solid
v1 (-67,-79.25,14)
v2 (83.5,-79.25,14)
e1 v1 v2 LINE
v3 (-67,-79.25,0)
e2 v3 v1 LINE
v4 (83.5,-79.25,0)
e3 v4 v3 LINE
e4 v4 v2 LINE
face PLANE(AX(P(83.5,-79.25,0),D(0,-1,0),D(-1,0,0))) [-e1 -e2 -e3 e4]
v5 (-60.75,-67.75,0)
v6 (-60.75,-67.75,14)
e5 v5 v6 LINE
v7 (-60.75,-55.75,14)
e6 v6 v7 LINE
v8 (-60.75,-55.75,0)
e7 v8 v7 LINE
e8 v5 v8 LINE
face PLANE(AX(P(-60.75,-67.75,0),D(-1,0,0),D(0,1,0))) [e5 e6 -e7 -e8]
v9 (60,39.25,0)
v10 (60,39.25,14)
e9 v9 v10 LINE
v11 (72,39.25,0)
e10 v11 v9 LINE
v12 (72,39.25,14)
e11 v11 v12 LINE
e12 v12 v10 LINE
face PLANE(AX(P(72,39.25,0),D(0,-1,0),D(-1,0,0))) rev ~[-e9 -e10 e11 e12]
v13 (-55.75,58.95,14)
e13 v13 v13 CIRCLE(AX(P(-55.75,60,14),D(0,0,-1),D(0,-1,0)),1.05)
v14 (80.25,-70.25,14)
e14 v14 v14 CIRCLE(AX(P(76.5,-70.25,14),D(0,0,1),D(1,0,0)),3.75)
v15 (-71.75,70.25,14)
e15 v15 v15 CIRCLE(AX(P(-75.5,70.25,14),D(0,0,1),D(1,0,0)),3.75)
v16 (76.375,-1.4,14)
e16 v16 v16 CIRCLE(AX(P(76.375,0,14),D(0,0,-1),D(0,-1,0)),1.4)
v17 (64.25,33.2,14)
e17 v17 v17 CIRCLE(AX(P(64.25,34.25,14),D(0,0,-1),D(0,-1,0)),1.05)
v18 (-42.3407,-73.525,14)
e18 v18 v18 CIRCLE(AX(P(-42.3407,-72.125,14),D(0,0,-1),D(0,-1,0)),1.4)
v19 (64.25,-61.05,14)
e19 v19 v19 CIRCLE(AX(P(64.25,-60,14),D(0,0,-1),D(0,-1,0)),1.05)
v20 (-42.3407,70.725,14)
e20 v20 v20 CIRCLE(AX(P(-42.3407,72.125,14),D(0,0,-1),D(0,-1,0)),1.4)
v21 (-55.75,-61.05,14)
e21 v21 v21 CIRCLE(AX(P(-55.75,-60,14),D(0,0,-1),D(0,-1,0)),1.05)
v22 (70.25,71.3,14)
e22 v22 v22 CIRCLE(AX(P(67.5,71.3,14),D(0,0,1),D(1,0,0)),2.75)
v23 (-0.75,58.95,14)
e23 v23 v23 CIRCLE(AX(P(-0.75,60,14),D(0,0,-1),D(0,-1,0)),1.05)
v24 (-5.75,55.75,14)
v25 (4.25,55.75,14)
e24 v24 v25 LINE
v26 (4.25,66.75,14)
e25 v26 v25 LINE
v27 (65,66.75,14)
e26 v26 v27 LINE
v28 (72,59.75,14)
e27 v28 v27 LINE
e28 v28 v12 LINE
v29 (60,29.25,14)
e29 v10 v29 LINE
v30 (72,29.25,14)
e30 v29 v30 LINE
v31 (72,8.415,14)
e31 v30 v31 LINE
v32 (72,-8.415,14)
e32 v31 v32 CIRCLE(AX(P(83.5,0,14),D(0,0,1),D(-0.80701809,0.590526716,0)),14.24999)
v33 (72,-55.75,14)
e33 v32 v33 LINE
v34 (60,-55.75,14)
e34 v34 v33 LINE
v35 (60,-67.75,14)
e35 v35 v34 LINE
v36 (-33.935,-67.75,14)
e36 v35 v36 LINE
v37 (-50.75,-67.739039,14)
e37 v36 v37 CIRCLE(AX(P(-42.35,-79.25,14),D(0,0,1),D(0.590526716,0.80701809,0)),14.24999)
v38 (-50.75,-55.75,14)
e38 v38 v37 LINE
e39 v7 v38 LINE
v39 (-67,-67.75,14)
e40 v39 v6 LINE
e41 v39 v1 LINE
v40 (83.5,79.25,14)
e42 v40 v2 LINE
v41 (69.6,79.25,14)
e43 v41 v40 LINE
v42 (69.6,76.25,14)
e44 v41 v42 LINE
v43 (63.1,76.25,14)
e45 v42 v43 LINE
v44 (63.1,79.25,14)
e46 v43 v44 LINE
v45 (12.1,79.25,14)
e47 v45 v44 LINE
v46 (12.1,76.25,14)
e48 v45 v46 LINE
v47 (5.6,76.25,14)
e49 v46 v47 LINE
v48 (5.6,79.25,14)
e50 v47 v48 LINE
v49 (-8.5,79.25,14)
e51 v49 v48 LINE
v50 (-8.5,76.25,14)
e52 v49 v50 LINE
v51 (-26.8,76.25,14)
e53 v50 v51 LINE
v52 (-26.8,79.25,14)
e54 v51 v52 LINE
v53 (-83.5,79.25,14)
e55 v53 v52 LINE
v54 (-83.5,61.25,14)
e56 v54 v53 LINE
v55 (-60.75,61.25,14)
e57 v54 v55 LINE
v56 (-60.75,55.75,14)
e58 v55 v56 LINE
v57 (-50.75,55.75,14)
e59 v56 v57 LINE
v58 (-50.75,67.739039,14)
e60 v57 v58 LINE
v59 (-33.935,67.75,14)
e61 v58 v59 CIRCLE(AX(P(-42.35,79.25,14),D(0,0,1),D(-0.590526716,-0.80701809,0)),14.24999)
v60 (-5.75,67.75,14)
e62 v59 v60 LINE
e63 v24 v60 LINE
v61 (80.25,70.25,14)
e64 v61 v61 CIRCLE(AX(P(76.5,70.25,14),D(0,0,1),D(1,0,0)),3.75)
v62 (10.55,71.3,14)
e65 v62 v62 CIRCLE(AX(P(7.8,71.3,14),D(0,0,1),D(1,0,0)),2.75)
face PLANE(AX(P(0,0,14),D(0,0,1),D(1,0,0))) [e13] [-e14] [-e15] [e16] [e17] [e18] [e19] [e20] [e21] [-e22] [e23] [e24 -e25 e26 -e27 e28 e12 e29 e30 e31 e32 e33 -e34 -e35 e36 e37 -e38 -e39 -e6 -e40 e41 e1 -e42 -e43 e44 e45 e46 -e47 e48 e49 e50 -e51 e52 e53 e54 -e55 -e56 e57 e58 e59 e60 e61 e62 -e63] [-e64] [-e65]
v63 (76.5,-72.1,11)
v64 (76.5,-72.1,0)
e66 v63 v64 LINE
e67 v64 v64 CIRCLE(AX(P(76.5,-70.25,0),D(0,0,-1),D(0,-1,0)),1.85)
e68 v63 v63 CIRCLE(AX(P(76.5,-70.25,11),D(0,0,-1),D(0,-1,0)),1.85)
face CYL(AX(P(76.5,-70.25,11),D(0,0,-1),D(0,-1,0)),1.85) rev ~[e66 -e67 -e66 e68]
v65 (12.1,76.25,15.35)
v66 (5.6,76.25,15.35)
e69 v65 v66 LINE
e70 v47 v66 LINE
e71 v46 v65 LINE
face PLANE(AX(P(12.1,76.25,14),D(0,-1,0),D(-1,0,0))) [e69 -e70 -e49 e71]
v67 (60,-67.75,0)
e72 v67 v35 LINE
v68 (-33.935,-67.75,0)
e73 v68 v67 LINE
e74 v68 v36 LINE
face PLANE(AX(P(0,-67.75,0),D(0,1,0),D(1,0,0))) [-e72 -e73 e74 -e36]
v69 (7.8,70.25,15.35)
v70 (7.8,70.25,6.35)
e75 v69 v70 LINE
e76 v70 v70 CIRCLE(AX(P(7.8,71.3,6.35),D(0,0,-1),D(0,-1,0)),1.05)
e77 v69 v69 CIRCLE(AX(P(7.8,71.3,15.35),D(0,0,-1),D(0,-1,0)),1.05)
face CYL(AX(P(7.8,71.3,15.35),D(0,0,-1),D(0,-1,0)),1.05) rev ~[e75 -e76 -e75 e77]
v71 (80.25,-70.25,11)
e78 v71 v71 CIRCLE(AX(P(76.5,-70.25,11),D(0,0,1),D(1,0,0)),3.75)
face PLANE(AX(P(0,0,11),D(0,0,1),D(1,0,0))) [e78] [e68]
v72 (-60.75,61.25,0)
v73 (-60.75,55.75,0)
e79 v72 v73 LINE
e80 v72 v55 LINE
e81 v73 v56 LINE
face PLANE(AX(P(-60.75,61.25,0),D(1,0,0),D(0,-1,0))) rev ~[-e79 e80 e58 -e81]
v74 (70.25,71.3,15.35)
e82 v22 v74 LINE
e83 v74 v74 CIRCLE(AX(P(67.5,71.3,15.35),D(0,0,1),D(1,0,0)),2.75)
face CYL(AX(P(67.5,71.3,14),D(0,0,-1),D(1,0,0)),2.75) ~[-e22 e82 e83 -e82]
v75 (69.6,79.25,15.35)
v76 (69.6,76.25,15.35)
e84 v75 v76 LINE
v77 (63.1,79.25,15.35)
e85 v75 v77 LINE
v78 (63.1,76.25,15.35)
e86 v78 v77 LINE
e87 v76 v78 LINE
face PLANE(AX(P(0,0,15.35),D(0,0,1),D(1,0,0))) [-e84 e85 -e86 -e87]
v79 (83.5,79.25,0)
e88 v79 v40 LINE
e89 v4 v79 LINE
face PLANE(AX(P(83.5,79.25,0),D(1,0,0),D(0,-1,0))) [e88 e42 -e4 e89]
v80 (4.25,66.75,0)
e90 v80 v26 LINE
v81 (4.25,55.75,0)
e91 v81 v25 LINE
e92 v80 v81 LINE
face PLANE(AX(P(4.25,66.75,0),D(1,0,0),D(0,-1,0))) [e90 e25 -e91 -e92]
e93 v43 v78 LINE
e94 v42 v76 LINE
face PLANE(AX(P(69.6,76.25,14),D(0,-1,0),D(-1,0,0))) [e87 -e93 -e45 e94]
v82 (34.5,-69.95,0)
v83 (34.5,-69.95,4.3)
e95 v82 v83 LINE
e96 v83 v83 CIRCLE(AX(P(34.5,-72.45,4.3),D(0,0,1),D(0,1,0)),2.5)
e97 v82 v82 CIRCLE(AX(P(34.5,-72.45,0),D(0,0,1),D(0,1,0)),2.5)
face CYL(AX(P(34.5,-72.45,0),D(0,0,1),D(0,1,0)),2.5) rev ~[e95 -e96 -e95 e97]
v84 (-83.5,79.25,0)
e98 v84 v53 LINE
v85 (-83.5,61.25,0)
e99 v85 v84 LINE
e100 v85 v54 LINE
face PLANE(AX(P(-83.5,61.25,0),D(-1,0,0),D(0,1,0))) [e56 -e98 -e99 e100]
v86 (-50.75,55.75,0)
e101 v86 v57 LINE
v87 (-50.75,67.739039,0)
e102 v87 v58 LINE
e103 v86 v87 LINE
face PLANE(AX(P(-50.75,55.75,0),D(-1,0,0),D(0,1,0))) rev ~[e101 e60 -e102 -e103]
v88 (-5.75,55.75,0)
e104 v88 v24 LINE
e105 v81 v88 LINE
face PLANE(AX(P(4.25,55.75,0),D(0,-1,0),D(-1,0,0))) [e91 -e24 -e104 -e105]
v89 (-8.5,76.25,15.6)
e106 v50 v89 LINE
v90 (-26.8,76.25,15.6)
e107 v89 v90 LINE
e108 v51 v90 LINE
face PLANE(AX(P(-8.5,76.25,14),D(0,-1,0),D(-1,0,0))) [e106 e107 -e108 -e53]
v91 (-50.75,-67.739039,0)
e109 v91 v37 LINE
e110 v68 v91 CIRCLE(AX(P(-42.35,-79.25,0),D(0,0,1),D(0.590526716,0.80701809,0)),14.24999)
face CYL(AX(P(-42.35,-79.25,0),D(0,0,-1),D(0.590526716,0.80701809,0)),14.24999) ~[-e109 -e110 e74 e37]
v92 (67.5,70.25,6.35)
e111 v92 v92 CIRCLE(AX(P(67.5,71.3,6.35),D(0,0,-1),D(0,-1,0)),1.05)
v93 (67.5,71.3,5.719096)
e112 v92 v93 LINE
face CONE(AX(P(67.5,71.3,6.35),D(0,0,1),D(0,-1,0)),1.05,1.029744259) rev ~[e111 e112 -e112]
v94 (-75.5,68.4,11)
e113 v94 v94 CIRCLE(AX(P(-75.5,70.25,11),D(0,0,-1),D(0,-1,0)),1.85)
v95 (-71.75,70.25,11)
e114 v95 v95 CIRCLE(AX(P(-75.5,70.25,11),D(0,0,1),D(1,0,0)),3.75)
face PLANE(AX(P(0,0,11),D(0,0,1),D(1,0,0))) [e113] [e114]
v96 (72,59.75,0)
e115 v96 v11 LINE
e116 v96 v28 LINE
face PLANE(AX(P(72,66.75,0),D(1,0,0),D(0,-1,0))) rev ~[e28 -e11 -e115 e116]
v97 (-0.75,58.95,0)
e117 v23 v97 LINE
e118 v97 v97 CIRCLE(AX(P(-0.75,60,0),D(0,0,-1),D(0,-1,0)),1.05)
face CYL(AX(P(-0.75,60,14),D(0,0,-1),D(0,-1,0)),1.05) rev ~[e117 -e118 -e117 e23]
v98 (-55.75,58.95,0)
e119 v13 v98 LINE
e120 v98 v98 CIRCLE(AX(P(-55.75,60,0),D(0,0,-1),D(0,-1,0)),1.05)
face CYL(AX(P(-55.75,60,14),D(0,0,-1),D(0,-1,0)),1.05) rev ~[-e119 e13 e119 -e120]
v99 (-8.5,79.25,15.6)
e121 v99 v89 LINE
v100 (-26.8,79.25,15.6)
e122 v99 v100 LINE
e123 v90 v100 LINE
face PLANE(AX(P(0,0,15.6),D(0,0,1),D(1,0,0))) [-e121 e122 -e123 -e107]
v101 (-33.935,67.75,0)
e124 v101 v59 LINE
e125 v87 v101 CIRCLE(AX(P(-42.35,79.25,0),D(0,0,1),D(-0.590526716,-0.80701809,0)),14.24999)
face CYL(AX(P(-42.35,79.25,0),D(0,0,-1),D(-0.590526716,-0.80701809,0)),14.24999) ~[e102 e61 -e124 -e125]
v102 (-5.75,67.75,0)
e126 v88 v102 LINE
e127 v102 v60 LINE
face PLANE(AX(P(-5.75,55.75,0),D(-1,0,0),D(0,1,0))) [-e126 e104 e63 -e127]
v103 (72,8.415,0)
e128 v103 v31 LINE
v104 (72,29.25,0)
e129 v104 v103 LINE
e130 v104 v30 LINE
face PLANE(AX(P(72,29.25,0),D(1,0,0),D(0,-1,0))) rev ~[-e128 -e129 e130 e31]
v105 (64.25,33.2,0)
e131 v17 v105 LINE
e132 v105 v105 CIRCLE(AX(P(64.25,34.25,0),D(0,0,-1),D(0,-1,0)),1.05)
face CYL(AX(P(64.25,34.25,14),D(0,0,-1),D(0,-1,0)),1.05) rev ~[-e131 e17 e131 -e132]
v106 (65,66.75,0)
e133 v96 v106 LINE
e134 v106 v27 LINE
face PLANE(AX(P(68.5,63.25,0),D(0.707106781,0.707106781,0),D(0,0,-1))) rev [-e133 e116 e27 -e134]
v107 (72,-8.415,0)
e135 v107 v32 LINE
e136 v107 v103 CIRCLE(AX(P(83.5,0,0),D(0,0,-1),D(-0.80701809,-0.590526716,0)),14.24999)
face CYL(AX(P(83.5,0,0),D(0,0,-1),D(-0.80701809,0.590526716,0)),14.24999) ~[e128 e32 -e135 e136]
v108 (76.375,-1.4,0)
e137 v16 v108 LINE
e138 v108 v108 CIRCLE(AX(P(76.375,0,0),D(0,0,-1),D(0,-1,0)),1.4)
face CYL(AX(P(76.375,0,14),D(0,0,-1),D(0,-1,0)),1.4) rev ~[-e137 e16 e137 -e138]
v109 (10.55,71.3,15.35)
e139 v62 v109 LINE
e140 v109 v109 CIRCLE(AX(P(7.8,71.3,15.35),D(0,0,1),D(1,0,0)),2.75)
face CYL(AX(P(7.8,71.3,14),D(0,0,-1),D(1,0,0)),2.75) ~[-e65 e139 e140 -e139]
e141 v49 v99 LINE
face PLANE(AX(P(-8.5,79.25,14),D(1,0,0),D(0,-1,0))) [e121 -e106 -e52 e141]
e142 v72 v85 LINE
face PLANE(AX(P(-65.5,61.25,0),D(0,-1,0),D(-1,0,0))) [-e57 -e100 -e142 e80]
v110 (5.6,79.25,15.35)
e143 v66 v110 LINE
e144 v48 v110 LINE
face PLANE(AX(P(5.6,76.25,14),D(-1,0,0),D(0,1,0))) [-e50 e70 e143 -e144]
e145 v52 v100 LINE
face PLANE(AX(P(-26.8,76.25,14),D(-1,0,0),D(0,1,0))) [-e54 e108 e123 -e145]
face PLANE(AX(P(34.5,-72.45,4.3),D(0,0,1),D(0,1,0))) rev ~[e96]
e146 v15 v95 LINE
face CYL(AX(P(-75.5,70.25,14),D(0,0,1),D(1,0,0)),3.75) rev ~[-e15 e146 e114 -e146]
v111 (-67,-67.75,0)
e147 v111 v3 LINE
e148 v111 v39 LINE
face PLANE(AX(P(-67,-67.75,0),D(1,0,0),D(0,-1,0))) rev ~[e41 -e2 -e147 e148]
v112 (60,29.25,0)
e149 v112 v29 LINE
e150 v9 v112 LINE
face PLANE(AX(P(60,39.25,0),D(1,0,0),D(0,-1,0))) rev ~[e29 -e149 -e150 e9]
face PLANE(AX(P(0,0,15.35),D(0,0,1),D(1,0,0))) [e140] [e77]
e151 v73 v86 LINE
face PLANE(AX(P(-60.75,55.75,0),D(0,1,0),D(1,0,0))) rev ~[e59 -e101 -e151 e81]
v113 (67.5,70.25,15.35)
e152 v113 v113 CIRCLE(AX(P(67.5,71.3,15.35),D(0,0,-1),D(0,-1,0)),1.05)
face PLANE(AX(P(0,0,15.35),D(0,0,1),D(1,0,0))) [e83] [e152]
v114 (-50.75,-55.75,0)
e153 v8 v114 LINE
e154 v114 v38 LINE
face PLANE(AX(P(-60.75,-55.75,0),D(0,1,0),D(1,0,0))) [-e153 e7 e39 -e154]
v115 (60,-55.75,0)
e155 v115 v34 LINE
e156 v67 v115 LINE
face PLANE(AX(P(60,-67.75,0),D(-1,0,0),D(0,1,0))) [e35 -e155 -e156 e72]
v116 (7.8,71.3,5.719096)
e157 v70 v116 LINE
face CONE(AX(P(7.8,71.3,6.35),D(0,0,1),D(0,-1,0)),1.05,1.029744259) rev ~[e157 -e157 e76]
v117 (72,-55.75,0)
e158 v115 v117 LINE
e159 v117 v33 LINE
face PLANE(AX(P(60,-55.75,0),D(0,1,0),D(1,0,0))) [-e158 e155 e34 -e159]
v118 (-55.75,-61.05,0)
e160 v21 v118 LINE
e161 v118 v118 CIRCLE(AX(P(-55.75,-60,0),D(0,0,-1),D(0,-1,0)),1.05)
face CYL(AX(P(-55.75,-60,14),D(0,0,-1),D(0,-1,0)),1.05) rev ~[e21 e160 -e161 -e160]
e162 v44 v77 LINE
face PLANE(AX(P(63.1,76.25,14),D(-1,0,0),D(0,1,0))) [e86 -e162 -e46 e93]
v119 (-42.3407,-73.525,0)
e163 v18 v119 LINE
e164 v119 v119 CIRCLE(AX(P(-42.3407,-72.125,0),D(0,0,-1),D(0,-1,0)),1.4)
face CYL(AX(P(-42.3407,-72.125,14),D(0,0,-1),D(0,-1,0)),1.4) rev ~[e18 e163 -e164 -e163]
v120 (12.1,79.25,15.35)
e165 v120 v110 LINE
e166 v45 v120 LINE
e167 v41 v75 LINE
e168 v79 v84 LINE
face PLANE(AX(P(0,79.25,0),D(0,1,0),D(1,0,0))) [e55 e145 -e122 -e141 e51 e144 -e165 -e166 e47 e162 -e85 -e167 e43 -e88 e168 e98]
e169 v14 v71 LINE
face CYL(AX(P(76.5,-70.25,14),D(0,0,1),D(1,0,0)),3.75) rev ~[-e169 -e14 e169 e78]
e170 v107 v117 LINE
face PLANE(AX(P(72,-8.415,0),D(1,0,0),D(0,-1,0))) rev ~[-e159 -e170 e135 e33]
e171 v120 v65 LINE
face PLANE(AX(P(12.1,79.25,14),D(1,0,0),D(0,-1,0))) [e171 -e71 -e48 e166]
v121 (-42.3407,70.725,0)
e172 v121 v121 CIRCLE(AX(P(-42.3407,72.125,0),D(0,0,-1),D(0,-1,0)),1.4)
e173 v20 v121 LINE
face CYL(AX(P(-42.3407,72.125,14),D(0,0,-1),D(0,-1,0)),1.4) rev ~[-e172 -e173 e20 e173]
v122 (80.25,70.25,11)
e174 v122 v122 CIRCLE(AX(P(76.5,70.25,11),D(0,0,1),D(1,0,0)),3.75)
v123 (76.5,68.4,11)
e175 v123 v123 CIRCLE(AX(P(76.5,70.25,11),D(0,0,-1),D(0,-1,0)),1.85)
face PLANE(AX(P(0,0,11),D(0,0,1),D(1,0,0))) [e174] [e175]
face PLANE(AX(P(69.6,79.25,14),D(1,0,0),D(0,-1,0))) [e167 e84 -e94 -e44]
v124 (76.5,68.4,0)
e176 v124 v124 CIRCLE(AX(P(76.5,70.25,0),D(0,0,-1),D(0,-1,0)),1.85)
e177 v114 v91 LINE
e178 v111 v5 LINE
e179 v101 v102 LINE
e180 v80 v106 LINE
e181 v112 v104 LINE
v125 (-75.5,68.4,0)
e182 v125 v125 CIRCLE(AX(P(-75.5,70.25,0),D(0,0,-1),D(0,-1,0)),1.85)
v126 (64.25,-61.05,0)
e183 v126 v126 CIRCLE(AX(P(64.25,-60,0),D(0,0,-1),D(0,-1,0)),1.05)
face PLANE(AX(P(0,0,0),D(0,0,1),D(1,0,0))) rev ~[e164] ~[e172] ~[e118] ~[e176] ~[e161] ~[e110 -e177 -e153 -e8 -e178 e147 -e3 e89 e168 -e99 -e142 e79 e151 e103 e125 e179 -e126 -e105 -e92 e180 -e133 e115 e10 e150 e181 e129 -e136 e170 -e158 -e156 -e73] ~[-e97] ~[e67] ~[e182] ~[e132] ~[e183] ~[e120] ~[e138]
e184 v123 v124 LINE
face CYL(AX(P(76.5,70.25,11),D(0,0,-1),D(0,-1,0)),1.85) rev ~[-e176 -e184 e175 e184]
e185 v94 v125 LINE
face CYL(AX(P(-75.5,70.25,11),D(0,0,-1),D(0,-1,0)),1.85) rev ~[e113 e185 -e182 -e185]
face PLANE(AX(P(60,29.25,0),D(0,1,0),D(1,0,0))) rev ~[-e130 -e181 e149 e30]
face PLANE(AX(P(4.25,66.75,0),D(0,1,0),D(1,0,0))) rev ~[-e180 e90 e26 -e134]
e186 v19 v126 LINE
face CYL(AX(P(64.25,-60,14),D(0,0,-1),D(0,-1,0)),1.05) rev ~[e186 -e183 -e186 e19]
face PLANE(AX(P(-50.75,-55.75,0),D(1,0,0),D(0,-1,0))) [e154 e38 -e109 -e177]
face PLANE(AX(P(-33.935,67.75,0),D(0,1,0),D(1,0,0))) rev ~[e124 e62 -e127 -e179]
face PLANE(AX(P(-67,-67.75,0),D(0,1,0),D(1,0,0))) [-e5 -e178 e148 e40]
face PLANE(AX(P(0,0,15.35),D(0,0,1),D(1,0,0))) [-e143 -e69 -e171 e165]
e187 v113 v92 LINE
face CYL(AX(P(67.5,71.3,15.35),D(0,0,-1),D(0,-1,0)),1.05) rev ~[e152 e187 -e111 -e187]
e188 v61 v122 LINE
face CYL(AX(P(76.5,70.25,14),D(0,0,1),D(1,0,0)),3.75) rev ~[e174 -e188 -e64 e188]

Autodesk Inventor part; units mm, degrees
ref_plane "YZ Plane" through (0, 0, 0) normal (1, 0, 0) x (0, 1, 0)
ref_plane "XZ Plane" through (0, 0, 0) normal (0, 1, 0) x (-1, 0, 0)
ref_plane "XY Plane" through (0, 0, 0) normal (0, 0, 1) x (1, 0, 0)
sketch "Náčrt1" plane through (0, 0, 0) normal (0, 0, 1) x (1, 0, 0)
  line L0 (0, 110.95) -> (0, -110.95) projected
  line L1 (-116.9, 0) -> (116.9, 0) projected
  line L2 (-83.5, 79.25) -> (83.5, 79.25)
  line L3 (83.5, -79.25) -> (-67, -79.25)
  line L4 (-83.5, 61.25) -> (-83.5, 79.25)
  line L5 (-65.5, 67.75) -> (4.25, 67.75)
  line L6 (72, 67.75) -> (72, 66.75) construction
  line L7 (-65.5, 67.75) -> (-65.5, 61.25)
  line L8 (-65.5, 61.25) -> (-83.5, 61.25)
  line L9 (-67, -67.75) -> (-67, -79.25)
  line L10 (-60.75, 65) -> (69.25, 65) construction
  line L11 (69.25, 65) -> (69.25, -65) construction
  line L12 (69.25, -65) -> (-60.75, -65) construction
  line L13 (-60.75, -65) -> (-60.75, 65) construction
  line L14 (-65.5, 61.25) -> (-60.75, 61.25)
  line L15 (-60.75, 61.25) -> (-60.75, 55.75)
  line L16 (-60.75, 55.75) -> (-50.75, 55.75)
  line L17 (-50.75, 55.75) -> (-50.75, 67.75)
  line L18 (4.25, 65) -> (4.25, 39.25) construction
  line L19 (4.25, 39.25) -> (69.25, 39.25) construction
  line L20 (4.25, 67.75) -> (4.25, 55.75)
  line L21 (4.25, 55.75) -> (-5.75, 55.75)
  line L22 (-5.75, 55.75) -> (-5.75, 67.75)
  line L23 (-67, -67.75) -> (72, -67.75)
  line L24 (83.5, 79.25) -> (83.5, -79.25)
  line L25 (-60.75, -67.75) -> (-60.75, -55.75)
  line L26 (-60.75, -55.75) -> (-50.75, -55.75)
  line L27 (-50.75, -55.75) -> (-50.75, -67.75)
  line L28 (72, 39.25) -> (60, 39.25)
  line L29 (60, 39.25) -> (60, 29.25)
  line L30 (60, 29.25) -> (72, 29.25)
  line L31 (60, -67.75) -> (60, -55.75)
  line L32 (60, -55.75) -> (72, -55.75)
  line L33 (4.25, 66.75) -> (72, 66.75)
  line L34 (4.25, 67.75) -> (72, 67.75) construction
  line L35 (72, 66.75) -> (72, -67.75)
  arc A0 (72, 8.415) -> (72, -8.415) centre (83.5, 0) ccw
  arc A1 (-50.765, 67.75) -> (-33.935, 67.75) centre (-42.35, 79.25) ccw
  arc A2 (-33.935, -67.75) -> (-50.765, -67.75) centre (-42.35, -79.25) ccw
  point P0 (0, 0)
  point P1 (-50.75, -67.739)
  point P2 (-50.75, 67.739)
  dimension "d1" = 158.5
  dimension "d3" = 11.5
  dimension "d7" = 18
  dimension "d8" = 18
  dimension "d15" = 130
  dimension "d16" = 130
  dimension "d17" = 2.75
  dimension "d19" = 10
  dimension "d20" = 40
  dimension "d21" = 65
  dimension "d22" = 12
  dimension "d23" = 10
  dimension "d24" = 12
  dimension "d28" = 67.75
  dimension "d29" = 83.5
  dimension "d30" = 11.5
  dimension "d31" = 83.5
  dimension "d32" = 67
  dimension "d33" = 12
  dimension "d34" = 10
  dimension "d35" = 50.75
  dimension "d36" = 12
  dimension "d37" = 10
  dimension "d38" = 29.25
  dimension "d41" = 12
  dimension "d42" = 12
  dimension "d45" = 12.5
  dimension "d118" = 28.5
  dimension "d121" = 42.35
  dimension "d122" = 42.35
extrude "Vysunutí1" add sketch "Náčrt1" along normal blind 14 contours L2 L24 L1 L35 L33 L20 L5 L0 | L0 L5 L7 L8 L4 L2 | L5 L20 L21 L0 | L0 L21 L22 L5 | L24 L3 L0 L23 L35 L1 | A1 L17 L5 | L7 L5 A1 L17 L16 L15 L14 | L35 A0 L1 | L1 A0 L35 | L0 L3 L9 L23 | L17 A1 L5 | L23 L27 A2 | L31 L32 L35 L23 | L35 L30 L29 L28 | L23 A2 L27 | A2 L23 L25 L26 L27
chamfer "Zkosení1" distance 7 angle 45 1 edges at (72, 66.75, 7)
sketch "Náčrt2" plane through (0, 0, 14) normal (0, 0, 1) x (1, 0, 0)
  line L0 (-116.9, 0) -> (116.9, 0) projected
  line L1 (0, 110.95) -> (0, -110.95) projected
  line L2 (-5.75, 55.75) -> (4.25, 55.75) projected
  line L3 (4.25, 55.75) -> (4.25, 66.75) projected
  line L4 (4.25, 66.75) -> (65, 66.75) projected
  line L5 (72, 59.75) -> (65, 66.75) projected
  line L6 (72, 59.75) -> (72, 39.25) projected
  line L7 (72, -55.75) -> (60, -55.75) projected
  line L8 (60, -55.75) -> (60, -67.75) projected
  line L9 (60, -67.75) -> (-33.935, -67.75) projected
  line L10 (-50.75, -67.739) -> (-50.75, -55.75) projected
  line L11 (-50.75, -55.75) -> (-60.75, -55.75) projected
  line L12 (-60.75, -55.75) -> (-60.75, -67.75) projected
  line L13 (-60.75, -67.75) -> (-67, -67.75) projected
  line L14 (-67, -67.75) -> (-67, -79.25) projected
  line L15 (-67, -79.25) -> (83.5, -79.25) projected
  line L16 (83.5, -79.25) -> (83.5, 79.25) projected
  line L17 (83.5, 79.25) -> (-83.5, 79.25) projected
  line L18 (-83.5, 79.25) -> (-83.5, 61.25) projected
  line L19 (-83.5, 61.25) -> (-60.75, 61.25) projected
  line L20 (-60.75, 61.25) -> (-60.75, 55.75) projected
  line L21 (-60.75, 55.75) -> (-50.75, 55.75) projected
  line L22 (-50.75, 55.75) -> (-50.75, 67.739) projected
  line L23 (-33.935, 67.75) -> (-5.75, 67.75) projected
  line L24 (-5.75, 67.75) -> (-5.75, 55.75) projected
  circle A0 centre (7.8, 71.3) radius 2.75
  circle A1 centre (67.5, 71.3) radius 2.75
  line L25 (72, 39.25) -> (60, 39.25) projected
  line L26 (60, 39.25) -> (60, 29.25) projected
  line L27 (60, 29.25) -> (72, 29.25) projected
  line L28 (72, 29.25) -> (72, 8.415) projected
  arc A2 (72, 8.415) -> (72, -8.415) centre (83.5, 0) ccw projected
  line L29 (72, -8.415) -> (72, -55.75) projected
  arc A3 (-33.935, -67.75) -> (-50.75, -67.739) centre (-42.35, -79.25) ccw projected
  arc A4 (-50.75, 67.739) -> (-33.935, 67.75) centre (-42.35, 79.25) ccw projected
  point P0 (0, 0)
  dimension "d49" = 16
  dimension "d50" = 7.95
  dimension "d52" = 7.95
  dimension "d53" = 59.7
  dimension "d61" = 5.5
  dimension "d62" = 5.5
extrude "Vysunutí2" add sketch "Náčrt2" along normal blind 1.35 contours A0 | A1
sketch "Náčrt3" plane through (7.8, 71.3, 15.35) normal (0, 0, 1) x (1, 0, 0)
  circle A0 centre (0, 0) radius 2.75 projected
  circle A1 centre (59.7, 0) radius 2.75 projected
  circle A2 centre (59.7, 0) radius 2.75 projected
  point P0 (-7.8, -71.3)
hole "Díra2" at (7.8, 71.3, 15.35) at (67.5, 71.3, 15.35) direction (0, 0, -1) diameter 2.1 depth 9 tip angle 118
sketch "Náčrt4" plane through (0, 0, 14) normal (0, 0, 1) x (1, 0, 0)
  circle A0 centre (67.5, 71.3) radius 2.75 projected
  circle A1 centre (7.8, 71.3) radius 2.75 projected
  line L0 (-5.75, 55.75) -> (4.25, 55.75) projected
  line L1 (4.25, 55.75) -> (4.25, 66.75) projected
  line L2 (4.25, 66.75) -> (65, 66.75) projected
  line L3 (72, 59.75) -> (65, 66.75) projected
  line L4 (72, 59.75) -> (72, 39.25) projected
  line L5 (72, -55.75) -> (60, -55.75) projected
  line L6 (60, -55.75) -> (60, -67.75) projected
  line L7 (60, -67.75) -> (-33.935, -67.75) projected
  line L8 (-50.75, -67.739) -> (-50.75, -55.75) projected
  line L9 (-50.75, -55.75) -> (-60.75, -55.75) projected
  line L10 (-60.75, -55.75) -> (-60.75, -67.75) projected
  line L11 (-60.75, -67.75) -> (-67, -67.75) projected
  line L12 (-67, -67.75) -> (-67, -79.25) projected
  line L13 (-67, -79.25) -> (83.5, -79.25) projected
  line L14 (83.5, -79.25) -> (83.5, 79.25) projected
  line L15 (83.5, 79.25) -> (-83.5, 79.25) projected
  line L16 (-83.5, 79.25) -> (-83.5, 61.25) projected
  line L17 (-83.5, 61.25) -> (-60.75, 61.25) projected
  line L18 (-60.75, 61.25) -> (-60.75, 55.75) projected
  line L19 (-60.75, 55.75) -> (-50.75, 55.75) projected
  line L20 (-50.75, 55.75) -> (-50.75, 67.739) projected
  line L21 (-33.935, 67.75) -> (-5.75, 67.75) projected
  line L22 (-5.75, 67.75) -> (-5.75, 55.75) projected
  line L23 (-116.9, 0) -> (116.9, 0) projected
  line L24 (0, 110.95) -> (0, -110.95) projected
  circle A2 centre (-75.5, 70.25) radius 3.75
  circle A3 centre (76.5, 70.25) radius 3.75
  circle A4 centre (76.5, -70.25) radius 3.75
  line L25 (72, 39.25) -> (60, 39.25) projected
  line L26 (60, 39.25) -> (60, 29.25) projected
  line L27 (60, 29.25) -> (72, 29.25) projected
  line L28 (72, 29.25) -> (72, 8.415) projected
  arc A5 (72, 8.415) -> (72, -8.415) centre (83.5, 0) ccw projected
  line L29 (72, -8.415) -> (72, -55.75) projected
  arc A6 (-33.935, -67.75) -> (-50.75, -67.739) centre (-42.35, -79.25) ccw projected
  arc A7 (-50.75, 67.739) -> (-33.935, 67.75) centre (-42.35, 79.25) ccw projected
  point P0 (0, 0)
  dimension "d72" = 7.5
  dimension "d73" = 7.5
  dimension "d74" = 7.5
  dimension "d75" = 9
  dimension "d76" = 8
  dimension "d77" = 7
  dimension "d78" = 9
  dimension "d79" = 7
  dimension "d80" = 9
extrude "Vysunutí3" cut sketch "Náčrt4" against normal blind 3 contours A2 | A3 | A4
sketch "Náčrt5" plane through (-75.5, 70.25, 11) normal (0, 0, 1) x (1, 0, 0)
  circle A0 centre (0, 0) radius 3.75 projected
  circle A1 centre (152, 0) radius 3.75 projected
  circle A2 centre (152, -140.5) radius 3.75 projected
  circle A3 centre (0, 0) radius 3.75 projected
  circle A4 centre (152, 0) radius 3.75 projected
  circle A5 centre (152, -140.5) radius 3.75 projected
  point P0 (75.5, -70.25)
hole "Díra3" at (-75.5, 70.25, 11) at (76.5, 70.25, 11) at (76.5, -70.25, 11) direction (0, 0, -1) diameter 3.7 end through all
sketch "Náčrt6" plane through (0, 0, 0) normal (0, 0, -1) x (-1, 0, 0)
  circle A0 centre (-76.5, 70.25) radius 1.85 projected
  circle A1 centre (75.5, 70.25) radius 1.85 projected
  circle A2 centre (-76.5, -70.25) radius 1.85 projected
  line L0 (5.75, 55.75) -> (-4.25, 55.75) projected
  line L1 (5.75, 67.75) -> (5.75, 55.75) projected
  line L2 (33.935, 67.75) -> (5.75, 67.75) projected
  line L3 (50.75, 55.75) -> (50.75, 67.739) projected
  line L4 (60.75, 55.75) -> (50.75, 55.75) projected
  line L5 (60.75, 61.25) -> (60.75, 55.75) projected
  line L6 (83.5, 61.25) -> (60.75, 61.25) projected
  line L7 (83.5, 79.25) -> (83.5, 61.25) projected
  line L8 (-83.5, 79.25) -> (83.5, 79.25) projected
  line L9 (-83.5, -79.25) -> (-83.5, 79.25) projected
  line L10 (67, -79.25) -> (-83.5, -79.25) projected
  line L11 (67, -67.75) -> (67, -79.25) projected
  line L12 (60.75, -67.75) -> (67, -67.75) projected
  line L13 (60.75, -55.75) -> (60.75, -67.75) projected
  line L14 (50.75, -55.75) -> (60.75, -55.75) projected
  line L15 (50.75, -67.739) -> (50.75, -55.75) projected
  line L16 (-60, -67.75) -> (33.935, -67.75) projected
  line L17 (-60, -55.75) -> (-60, -67.75) projected
  line L18 (-72, -55.75) -> (-60, -55.75) projected
  line L19 (-72, -8.415) -> (-72, -55.75) projected
  line L20 (-60, 29.25) -> (-72, 29.25) projected
  line L21 (-60, 39.25) -> (-60, 29.25) projected
  line L22 (-72, 39.25) -> (-60, 39.25) projected
  line L23 (-72, 59.75) -> (-72, 39.25) projected
  line L24 (-65, 66.75) -> (-72, 59.75) projected
  line L25 (-4.25, 66.75) -> (-65, 66.75) projected
  line L26 (-4.25, 55.75) -> (-4.25, 66.75) projected
  line L27 (-116.9, 0) -> (116.9, 0) projected
  line L28 (0, -110.95) -> (0, 110.95) projected
  arc A3 (-72, -8.415) -> (-72, 8.415) centre (-83.5, 0) ccw projected
  line L29 (-72, 29.25) -> (-72, 8.415) projected
  arc A4 (33.935, 67.75) -> (50.75, 67.739) centre (42.35, 79.25) ccw projected
  arc A5 (50.75, -67.739) -> (33.935, -67.75) centre (42.35, -79.25) ccw projected
  point P0 (0, 0)
  point P1 (-34.5, -72.45)
  dimension "d90" = 49
  dimension "d91" = 6.8
hole "Díra4" at (34.5, -72.45, 0) direction (0, 0, 1) diameter 5 depth 4.3
sketch "Náčrt7" plane through (0, 0, 14) normal (0, 0, 1) x (1, 0, 0)
  circle A0 centre (76.5, -70.25) radius 3.75 projected
  circle A1 centre (76.5, 70.25) radius 3.75 projected
  circle A2 centre (-75.5, 70.25) radius 3.75 projected
  circle A3 centre (67.5, 71.3) radius 2.75 projected
  circle A4 centre (7.8, 71.3) radius 2.75 projected
  line L0 (-5.75, 55.75) -> (4.25, 55.75) projected
  line L1 (4.25, 55.75) -> (4.25, 66.75) projected
  line L2 (4.25, 66.75) -> (65, 66.75) projected
  line L3 (72, 59.75) -> (65, 66.75) projected
  line L4 (72, 59.75) -> (72, 39.25) projected
  line L5 (72, 39.25) -> (60, 39.25) projected
  line L6 (60, 39.25) -> (60, 29.25) projected
  line L7 (60, 29.25) -> (72, 29.25) projected
  line L8 (72, 29.25) -> (72, 8.415) projected
  line L9 (72, -55.75) -> (60, -55.75) projected
  line L10 (60, -55.75) -> (60, -67.75) projected
  line L11 (60, -67.75) -> (-33.935, -67.75) projected
  line L12 (-50.75, -67.739) -> (-50.75, -55.75) projected
  line L13 (-50.75, -55.75) -> (-60.75, -55.75) projected
  line L14 (-60.75, -55.75) -> (-60.75, -67.75) projected
  line L15 (-60.75, -67.75) -> (-67, -67.75) projected
  line L16 (-67, -67.75) -> (-67, -79.25) projected
  line L17 (-67, -79.25) -> (83.5, -79.25) projected
  line L18 (83.5, -79.25) -> (83.5, 79.25) projected
  line L19 (83.5, 79.25) -> (-83.5, 79.25) projected
  line L20 (-83.5, 79.25) -> (-83.5, 61.25) projected
  line L21 (-83.5, 61.25) -> (-60.75, 61.25) projected
  line L22 (-60.75, 61.25) -> (-60.75, 55.75) projected
  line L23 (-60.75, 55.75) -> (-50.75, 55.75) projected
  line L24 (-50.75, 55.75) -> (-50.75, 67.739) projected
  line L25 (-33.935, 67.75) -> (-5.75, 67.75) projected
  line L26 (-5.75, 67.75) -> (-5.75, 55.75) projected
  line L27 (-116.9, 0) -> (116.9, 0) projected
  line L28 (0, 110.95) -> (0, -110.95) projected
  arc A5 (72, 8.415) -> (72, -8.415) centre (83.5, 0) ccw projected
  line L29 (72, -8.415) -> (72, -55.75) projected
  arc A6 (-33.935, -67.75) -> (-50.75, -67.739) centre (-42.35, -79.25) ccw projected
  arc A7 (-50.75, 67.739) -> (-33.935, 67.75) centre (-42.35, 79.25) ccw projected
  point P0 (0, 0)
  point P1 (-55.75, 60)
  point P2 (-0.75, 60)
  point P3 (64.25, 34.25)
  point P4 (64.25, -60)
  point P5 (-55.75, -60)
  dimension "d99" = 5
  dimension "d100" = 7.75
  dimension "d101" = 7.75
  dimension "d102" = 5
  dimension "d103" = 7.75
  dimension "d104" = 5
  dimension "d106" = 7.75
  dimension "d107" = 7.75
  dimension "d108" = 7.75
  dimension "d110" = 5
hole "Díra5" at (-55.75, 60, 14) at (-0.75, 60, 14) at (64.25, 34.25, 14) at (64.25, -60, 14) at (-55.75, -60, 14) direction (0, 0, -1) diameter 2.1 depth 16 tip angle 118
sketch "Náčrt8" plane through (0, 0, 14) normal (0, 0, 1) x (1, 0, 0)
  circle A0 centre (64.25, -60) radius 1.05 projected
  circle A1 centre (-0.75, 60) radius 1.05 projected
  circle A2 centre (-55.75, 60) radius 1.05 projected
  circle A3 centre (64.25, 34.25) radius 1.05 projected
  circle A4 centre (-55.75, -60) radius 1.05 projected
  circle A5 centre (76.5, -70.25) radius 3.75 projected
  circle A6 centre (76.5, 70.25) radius 3.75 projected
  circle A7 centre (-75.5, 70.25) radius 3.75 projected
  circle A8 centre (67.5, 71.3) radius 2.75 projected
  circle A9 centre (7.8, 71.3) radius 2.75 projected
  line L0 (-5.75, 55.75) -> (4.25, 55.75) projected
  line L1 (4.25, 55.75) -> (4.25, 66.75) projected
  line L2 (4.25, 66.75) -> (65, 66.75) projected
  line L3 (72, 59.75) -> (65, 66.75) projected
  line L4 (72, 59.75) -> (72, 39.25) projected
  line L5 (72, 39.25) -> (60, 39.25) projected
  line L6 (60, 39.25) -> (60, 29.25) projected
  line L7 (60, 29.25) -> (72, 29.25) projected
  line L8 (72, 29.25) -> (72, 8.415) projected
  arc A10 (72, 8.415) -> (72, -8.415) centre (83.5, 0) ccw projected
  line L9 (72, -8.415) -> (72, -55.75) projected
  line L10 (72, -55.75) -> (60, -55.75) projected
  line L11 (60, -55.75) -> (60, -67.75) projected
  line L12 (60, -67.75) -> (-33.935, -67.75) projected
  arc A11 (-33.935, -67.75) -> (-50.75, -67.739) centre (-42.35, -79.25) ccw projected
  line L13 (-50.75, -67.739) -> (-50.75, -55.75) projected
  line L14 (-50.75, -55.75) -> (-60.75, -55.75) projected
  line L15 (-60.75, -55.75) -> (-60.75, -67.75) projected
  line L16 (-60.75, -67.75) -> (-67, -67.75) projected
  line L17 (-67, -67.75) -> (-67, -79.25) projected
  line L18 (-67, -79.25) -> (83.5, -79.25) projected
  line L19 (83.5, -79.25) -> (83.5, 79.25) projected
  line L20 (83.5, 79.25) -> (-83.5, 79.25) projected
  line L21 (-83.5, 79.25) -> (-83.5, 61.25) projected
  line L22 (-83.5, 61.25) -> (-60.75, 61.25) projected
  line L23 (-60.75, 61.25) -> (-60.75, 55.75) projected
  line L24 (-60.75, 55.75) -> (-50.75, 55.75) projected
  line L25 (-50.75, 55.75) -> (-50.75, 67.739) projected
  arc A12 (-50.75, 67.739) -> (-33.935, 67.75) centre (-42.35, 79.25) ccw projected
  line L26 (-33.935, 67.75) -> (-5.75, 67.75) projected
  line L27 (-5.75, 67.75) -> (-5.75, 55.75) projected
  line L28 (0, 110.95) -> (0, -110.95) projected
  line L29 (-116.9, 0) -> (116.9, 0) projected
  line L30 (83.5, 79.25) -> (-83.5, 79.25) projected
  line L31 (5.6, 79.25) -> (69.6, 79.25)
  line L32 (69.6, 79.25) -> (69.6, 76.25)
  line L33 (69.6, 76.25) -> (5.6, 76.25)
  line L34 (5.6, 76.25) -> (5.6, 79.25)
  line L35 (12.1, 76.25) -> (5.6, 76.25)
  line L36 (5.6, 76.25) -> (5.6, 79.25)
  line L37 (5.6, 79.25) -> (12.1, 79.25)
  line L38 (12.1, 79.25) -> (12.1, 76.25)
  line L39 (69.6, 76.25) -> (63.1, 76.25)
  line L40 (63.1, 76.25) -> (63.1, 79.25)
  line L41 (63.1, 79.25) -> (69.6, 79.25)
  line L42 (69.6, 79.25) -> (69.6, 76.25)
  point P0 (0, 0)
  point P1 (63.1, 76.25)
  dimension "d123" = 64
  dimension "d124" = 3
  dimension "d125" = 13.9
  dimension "d126" = 6.5
  dimension "d127" = 6.5
extrude "Vysunutí4" add sketch "Náčrt8" along normal blind 1.35 contours L20 L38 L33 L34 | L20 L32 L33 L40
sketch "Náčrt9" plane through (0, 0, 14) normal (0, 0, 1) x (1, 0, 0)
  circle A0 centre (7.8, 71.3) radius 2.75 projected
  circle A1 centre (67.5, 71.3) radius 2.75 projected
  circle A2 centre (-75.5, 70.25) radius 3.75 projected
  circle A3 centre (76.5, 70.25) radius 3.75 projected
  circle A4 centre (76.5, -70.25) radius 3.75 projected
  circle A5 centre (-55.75, -60) radius 1.05 projected
  circle A6 centre (64.25, 34.25) radius 1.05 projected
  circle A7 centre (-55.75, 60) radius 1.05 projected
  circle A8 centre (-0.75, 60) radius 1.05 projected
  circle A9 centre (64.25, -60) radius 1.05 projected
  line L0 (69.6, 79.25) -> (69.6, 76.25) projected
  line L1 (69.6, 76.25) -> (63.1, 76.25) projected
  line L2 (63.1, 76.25) -> (63.1, 79.25) projected
  line L3 (63.1, 79.25) -> (12.1, 79.25) projected
  line L4 (12.1, 79.25) -> (12.1, 76.25) projected
  line L5 (12.1, 76.25) -> (5.6, 76.25) projected
  line L6 (5.6, 76.25) -> (5.6, 79.25) projected
  line L7 (5.6, 79.25) -> (-83.5, 79.25) projected
  line L8 (-83.5, 79.25) -> (-83.5, 61.25) projected
  line L9 (-83.5, 61.25) -> (-60.75, 61.25) projected
  line L10 (-60.75, 61.25) -> (-60.75, 55.75) projected
  line L11 (-60.75, 55.75) -> (-50.75, 55.75) projected
  line L12 (-50.75, 55.75) -> (-50.75, 67.739) projected
  arc A10 (-50.75, 67.739) -> (-33.935, 67.75) centre (-42.35, 79.25) ccw projected
  line L13 (-33.935, 67.75) -> (-5.75, 67.75) projected
  line L14 (-5.75, 67.75) -> (-5.75, 55.75) projected
  line L15 (-5.75, 55.75) -> (4.25, 55.75) projected
  line L16 (4.25, 55.75) -> (4.25, 66.75) projected
  line L17 (4.25, 66.75) -> (65, 66.75) projected
  line L18 (72, 59.75) -> (65, 66.75) projected
  line L19 (72, 59.75) -> (72, 39.25) projected
  line L20 (72, 39.25) -> (60, 39.25) projected
  line L21 (60, 39.25) -> (60, 29.25) projected
  line L22 (60, 29.25) -> (72, 29.25) projected
  line L23 (72, 29.25) -> (72, 8.415) projected
  arc A11 (72, 8.415) -> (72, -8.415) centre (83.5, 0) ccw projected
  line L24 (72, -8.415) -> (72, -55.75) projected
  line L25 (72, -55.75) -> (60, -55.75) projected
  line L26 (60, -55.75) -> (60, -67.75) projected
  line L27 (60, -67.75) -> (-33.935, -67.75) projected
  arc A12 (-33.935, -67.75) -> (-50.75, -67.739) centre (-42.35, -79.25) ccw projected
  line L28 (-50.75, -67.739) -> (-50.75, -55.75) projected
  line L29 (-50.75, -55.75) -> (-60.75, -55.75) projected
  line L30 (-60.75, -55.75) -> (-60.75, -67.75) projected
  line L31 (-60.75, -67.75) -> (-67, -67.75) projected
  line L32 (-67, -67.75) -> (-67, -79.25) projected
  line L33 (-67, -79.25) -> (83.5, -79.25) projected
  line L34 (83.5, -79.25) -> (83.5, 79.25) projected
  line L35 (83.5, 79.25) -> (69.6, 79.25) projected
  line L36 (83.5, 79.25) -> (-83.5, 79.25) projected
  line L37 (-26.8, 79.25) -> (-8.5, 79.25)
  line L38 (-8.5, 79.25) -> (-8.5, 76.25)
  line L39 (-8.5, 76.25) -> (-26.8, 76.25)
  line L40 (-26.8, 76.25) -> (-26.8, 79.25)
  point P0 (0, 0)
  dimension "d130" = 92
  dimension "d131" = 110.3
  dimension "d132" = 3
extrude "Vysunutí5" add sketch "Náčrt9" along normal blind 1.6 contours L38 L39 L40 L7
sketch "Náčrt10" plane through (0, 0, 14) normal (0, 0, 1) x (1, 0, 0)
  line L0 (-26.8, 76.25) -> (-8.5, 76.25) projected
  line L1 (-26.8, 76.25) -> (-26.8, 79.25) projected
  line L2 (-26.8, 79.25) -> (-83.5, 79.25) projected
  line L3 (-83.5, 79.25) -> (-83.5, 61.25) projected
  line L4 (-83.5, 61.25) -> (-60.75, 61.25) projected
  line L5 (-60.75, 61.25) -> (-60.75, 55.75) projected
  line L6 (-60.75, 55.75) -> (-50.75, 55.75) projected
  line L7 (-50.75, 55.75) -> (-50.75, 67.739) projected
  arc A0 (-50.75, 67.739) -> (-33.935, 67.75) centre (-42.35, 79.25) ccw projected
  line L8 (-33.935, 67.75) -> (-5.75, 67.75) projected
  line L9 (-5.75, 67.75) -> (-5.75, 55.75) projected
  line L10 (-5.75, 55.75) -> (4.25, 55.75) projected
  line L11 (4.25, 55.75) -> (4.25, 66.75) projected
  line L12 (4.25, 66.75) -> (65, 66.75) projected
  line L13 (72, 59.75) -> (65, 66.75) projected
  line L14 (72, 59.75) -> (72, 39.25) projected
  line L15 (72, 39.25) -> (60, 39.25) projected
  line L16 (60, 39.25) -> (60, 29.25) projected
  line L17 (60, 29.25) -> (72, 29.25) projected
  line L18 (72, 29.25) -> (72, 8.415) projected
  arc A1 (72, 8.415) -> (72, -8.415) centre (83.5, 0) ccw projected
  line L19 (72, -8.415) -> (72, -55.75) projected
  line L20 (72, -55.75) -> (60, -55.75) projected
  line L21 (60, -55.75) -> (60, -67.75) projected
  line L22 (60, -67.75) -> (-33.935, -67.75) projected
  arc A2 (-33.935, -67.75) -> (-50.75, -67.739) centre (-42.35, -79.25) ccw projected
  line L23 (-50.75, -67.739) -> (-50.75, -55.75) projected
  line L24 (-50.75, -55.75) -> (-60.75, -55.75) projected
  line L25 (-60.75, -55.75) -> (-60.75, -67.75) projected
  line L26 (-60.75, -67.75) -> (-67, -67.75) projected
  line L27 (-67, -67.75) -> (-67, -79.25) projected
  line L28 (-67, -79.25) -> (83.5, -79.25) projected
  line L29 (83.5, -79.25) -> (83.5, 79.25) projected
  line L30 (83.5, 79.25) -> (69.6, 79.25) projected
  line L31 (69.6, 79.25) -> (69.6, 76.25) projected
  line L32 (69.6, 76.25) -> (63.1, 76.25) projected
  line L33 (63.1, 76.25) -> (63.1, 79.25) projected
  line L34 (63.1, 79.25) -> (12.1, 79.25) projected
  line L35 (12.1, 79.25) -> (12.1, 76.25) projected
  line L36 (12.1, 76.25) -> (5.6, 76.25) projected
  line L37 (5.6, 76.25) -> (5.6, 79.25) projected
  line L38 (5.6, 79.25) -> (-8.5, 79.25) projected
  line L39 (-8.5, 79.25) -> (-8.5, 76.25) projected
  line L40 (-8.5, 76.25) -> (-26.8, 76.25) projected
  circle A3 centre (7.8, 71.3) radius 2.75 projected
  circle A4 centre (67.5, 71.3) radius 2.75 projected
  circle A5 centre (-75.5, 70.25) radius 3.75 projected
  circle A6 centre (76.5, 70.25) radius 3.75 projected
  circle A7 centre (76.5, -70.25) radius 3.75 projected
  circle A8 centre (-55.75, -60) radius 1.05 projected
  circle A9 centre (64.25, 34.25) radius 1.05 projected
  circle A10 centre (-55.75, 60) radius 1.05 projected
  circle A11 centre (-0.75, 60) radius 1.05 projected
  circle A12 centre (64.25, -60) radius 1.05 projected
  line L41 (0, 110.95) -> (0, -110.95) projected
  line L42 (-116.9, 0) -> (116.9, 0) projected
  point P0 (0, 0)
  point P1 (-42.3407, 72.125)
  point P2 (76.375, 0)
  point P3 (-42.3407, -72.125)
  dimension "d135" = 7.125
  dimension "d136" = 42.3407
  dimension "d137" = 7.125
  dimension "d138" = 42.3407
  dimension "d139" = 7.125
hole "Díra6" at (-42.3407, 72.125, 14) at (76.375, 0, 14) at (-42.3407, -72.125, 14) direction (0, 0, -1) diameter 2.8 depth 14
properties part number "display_cover_part1_3D tisk"
